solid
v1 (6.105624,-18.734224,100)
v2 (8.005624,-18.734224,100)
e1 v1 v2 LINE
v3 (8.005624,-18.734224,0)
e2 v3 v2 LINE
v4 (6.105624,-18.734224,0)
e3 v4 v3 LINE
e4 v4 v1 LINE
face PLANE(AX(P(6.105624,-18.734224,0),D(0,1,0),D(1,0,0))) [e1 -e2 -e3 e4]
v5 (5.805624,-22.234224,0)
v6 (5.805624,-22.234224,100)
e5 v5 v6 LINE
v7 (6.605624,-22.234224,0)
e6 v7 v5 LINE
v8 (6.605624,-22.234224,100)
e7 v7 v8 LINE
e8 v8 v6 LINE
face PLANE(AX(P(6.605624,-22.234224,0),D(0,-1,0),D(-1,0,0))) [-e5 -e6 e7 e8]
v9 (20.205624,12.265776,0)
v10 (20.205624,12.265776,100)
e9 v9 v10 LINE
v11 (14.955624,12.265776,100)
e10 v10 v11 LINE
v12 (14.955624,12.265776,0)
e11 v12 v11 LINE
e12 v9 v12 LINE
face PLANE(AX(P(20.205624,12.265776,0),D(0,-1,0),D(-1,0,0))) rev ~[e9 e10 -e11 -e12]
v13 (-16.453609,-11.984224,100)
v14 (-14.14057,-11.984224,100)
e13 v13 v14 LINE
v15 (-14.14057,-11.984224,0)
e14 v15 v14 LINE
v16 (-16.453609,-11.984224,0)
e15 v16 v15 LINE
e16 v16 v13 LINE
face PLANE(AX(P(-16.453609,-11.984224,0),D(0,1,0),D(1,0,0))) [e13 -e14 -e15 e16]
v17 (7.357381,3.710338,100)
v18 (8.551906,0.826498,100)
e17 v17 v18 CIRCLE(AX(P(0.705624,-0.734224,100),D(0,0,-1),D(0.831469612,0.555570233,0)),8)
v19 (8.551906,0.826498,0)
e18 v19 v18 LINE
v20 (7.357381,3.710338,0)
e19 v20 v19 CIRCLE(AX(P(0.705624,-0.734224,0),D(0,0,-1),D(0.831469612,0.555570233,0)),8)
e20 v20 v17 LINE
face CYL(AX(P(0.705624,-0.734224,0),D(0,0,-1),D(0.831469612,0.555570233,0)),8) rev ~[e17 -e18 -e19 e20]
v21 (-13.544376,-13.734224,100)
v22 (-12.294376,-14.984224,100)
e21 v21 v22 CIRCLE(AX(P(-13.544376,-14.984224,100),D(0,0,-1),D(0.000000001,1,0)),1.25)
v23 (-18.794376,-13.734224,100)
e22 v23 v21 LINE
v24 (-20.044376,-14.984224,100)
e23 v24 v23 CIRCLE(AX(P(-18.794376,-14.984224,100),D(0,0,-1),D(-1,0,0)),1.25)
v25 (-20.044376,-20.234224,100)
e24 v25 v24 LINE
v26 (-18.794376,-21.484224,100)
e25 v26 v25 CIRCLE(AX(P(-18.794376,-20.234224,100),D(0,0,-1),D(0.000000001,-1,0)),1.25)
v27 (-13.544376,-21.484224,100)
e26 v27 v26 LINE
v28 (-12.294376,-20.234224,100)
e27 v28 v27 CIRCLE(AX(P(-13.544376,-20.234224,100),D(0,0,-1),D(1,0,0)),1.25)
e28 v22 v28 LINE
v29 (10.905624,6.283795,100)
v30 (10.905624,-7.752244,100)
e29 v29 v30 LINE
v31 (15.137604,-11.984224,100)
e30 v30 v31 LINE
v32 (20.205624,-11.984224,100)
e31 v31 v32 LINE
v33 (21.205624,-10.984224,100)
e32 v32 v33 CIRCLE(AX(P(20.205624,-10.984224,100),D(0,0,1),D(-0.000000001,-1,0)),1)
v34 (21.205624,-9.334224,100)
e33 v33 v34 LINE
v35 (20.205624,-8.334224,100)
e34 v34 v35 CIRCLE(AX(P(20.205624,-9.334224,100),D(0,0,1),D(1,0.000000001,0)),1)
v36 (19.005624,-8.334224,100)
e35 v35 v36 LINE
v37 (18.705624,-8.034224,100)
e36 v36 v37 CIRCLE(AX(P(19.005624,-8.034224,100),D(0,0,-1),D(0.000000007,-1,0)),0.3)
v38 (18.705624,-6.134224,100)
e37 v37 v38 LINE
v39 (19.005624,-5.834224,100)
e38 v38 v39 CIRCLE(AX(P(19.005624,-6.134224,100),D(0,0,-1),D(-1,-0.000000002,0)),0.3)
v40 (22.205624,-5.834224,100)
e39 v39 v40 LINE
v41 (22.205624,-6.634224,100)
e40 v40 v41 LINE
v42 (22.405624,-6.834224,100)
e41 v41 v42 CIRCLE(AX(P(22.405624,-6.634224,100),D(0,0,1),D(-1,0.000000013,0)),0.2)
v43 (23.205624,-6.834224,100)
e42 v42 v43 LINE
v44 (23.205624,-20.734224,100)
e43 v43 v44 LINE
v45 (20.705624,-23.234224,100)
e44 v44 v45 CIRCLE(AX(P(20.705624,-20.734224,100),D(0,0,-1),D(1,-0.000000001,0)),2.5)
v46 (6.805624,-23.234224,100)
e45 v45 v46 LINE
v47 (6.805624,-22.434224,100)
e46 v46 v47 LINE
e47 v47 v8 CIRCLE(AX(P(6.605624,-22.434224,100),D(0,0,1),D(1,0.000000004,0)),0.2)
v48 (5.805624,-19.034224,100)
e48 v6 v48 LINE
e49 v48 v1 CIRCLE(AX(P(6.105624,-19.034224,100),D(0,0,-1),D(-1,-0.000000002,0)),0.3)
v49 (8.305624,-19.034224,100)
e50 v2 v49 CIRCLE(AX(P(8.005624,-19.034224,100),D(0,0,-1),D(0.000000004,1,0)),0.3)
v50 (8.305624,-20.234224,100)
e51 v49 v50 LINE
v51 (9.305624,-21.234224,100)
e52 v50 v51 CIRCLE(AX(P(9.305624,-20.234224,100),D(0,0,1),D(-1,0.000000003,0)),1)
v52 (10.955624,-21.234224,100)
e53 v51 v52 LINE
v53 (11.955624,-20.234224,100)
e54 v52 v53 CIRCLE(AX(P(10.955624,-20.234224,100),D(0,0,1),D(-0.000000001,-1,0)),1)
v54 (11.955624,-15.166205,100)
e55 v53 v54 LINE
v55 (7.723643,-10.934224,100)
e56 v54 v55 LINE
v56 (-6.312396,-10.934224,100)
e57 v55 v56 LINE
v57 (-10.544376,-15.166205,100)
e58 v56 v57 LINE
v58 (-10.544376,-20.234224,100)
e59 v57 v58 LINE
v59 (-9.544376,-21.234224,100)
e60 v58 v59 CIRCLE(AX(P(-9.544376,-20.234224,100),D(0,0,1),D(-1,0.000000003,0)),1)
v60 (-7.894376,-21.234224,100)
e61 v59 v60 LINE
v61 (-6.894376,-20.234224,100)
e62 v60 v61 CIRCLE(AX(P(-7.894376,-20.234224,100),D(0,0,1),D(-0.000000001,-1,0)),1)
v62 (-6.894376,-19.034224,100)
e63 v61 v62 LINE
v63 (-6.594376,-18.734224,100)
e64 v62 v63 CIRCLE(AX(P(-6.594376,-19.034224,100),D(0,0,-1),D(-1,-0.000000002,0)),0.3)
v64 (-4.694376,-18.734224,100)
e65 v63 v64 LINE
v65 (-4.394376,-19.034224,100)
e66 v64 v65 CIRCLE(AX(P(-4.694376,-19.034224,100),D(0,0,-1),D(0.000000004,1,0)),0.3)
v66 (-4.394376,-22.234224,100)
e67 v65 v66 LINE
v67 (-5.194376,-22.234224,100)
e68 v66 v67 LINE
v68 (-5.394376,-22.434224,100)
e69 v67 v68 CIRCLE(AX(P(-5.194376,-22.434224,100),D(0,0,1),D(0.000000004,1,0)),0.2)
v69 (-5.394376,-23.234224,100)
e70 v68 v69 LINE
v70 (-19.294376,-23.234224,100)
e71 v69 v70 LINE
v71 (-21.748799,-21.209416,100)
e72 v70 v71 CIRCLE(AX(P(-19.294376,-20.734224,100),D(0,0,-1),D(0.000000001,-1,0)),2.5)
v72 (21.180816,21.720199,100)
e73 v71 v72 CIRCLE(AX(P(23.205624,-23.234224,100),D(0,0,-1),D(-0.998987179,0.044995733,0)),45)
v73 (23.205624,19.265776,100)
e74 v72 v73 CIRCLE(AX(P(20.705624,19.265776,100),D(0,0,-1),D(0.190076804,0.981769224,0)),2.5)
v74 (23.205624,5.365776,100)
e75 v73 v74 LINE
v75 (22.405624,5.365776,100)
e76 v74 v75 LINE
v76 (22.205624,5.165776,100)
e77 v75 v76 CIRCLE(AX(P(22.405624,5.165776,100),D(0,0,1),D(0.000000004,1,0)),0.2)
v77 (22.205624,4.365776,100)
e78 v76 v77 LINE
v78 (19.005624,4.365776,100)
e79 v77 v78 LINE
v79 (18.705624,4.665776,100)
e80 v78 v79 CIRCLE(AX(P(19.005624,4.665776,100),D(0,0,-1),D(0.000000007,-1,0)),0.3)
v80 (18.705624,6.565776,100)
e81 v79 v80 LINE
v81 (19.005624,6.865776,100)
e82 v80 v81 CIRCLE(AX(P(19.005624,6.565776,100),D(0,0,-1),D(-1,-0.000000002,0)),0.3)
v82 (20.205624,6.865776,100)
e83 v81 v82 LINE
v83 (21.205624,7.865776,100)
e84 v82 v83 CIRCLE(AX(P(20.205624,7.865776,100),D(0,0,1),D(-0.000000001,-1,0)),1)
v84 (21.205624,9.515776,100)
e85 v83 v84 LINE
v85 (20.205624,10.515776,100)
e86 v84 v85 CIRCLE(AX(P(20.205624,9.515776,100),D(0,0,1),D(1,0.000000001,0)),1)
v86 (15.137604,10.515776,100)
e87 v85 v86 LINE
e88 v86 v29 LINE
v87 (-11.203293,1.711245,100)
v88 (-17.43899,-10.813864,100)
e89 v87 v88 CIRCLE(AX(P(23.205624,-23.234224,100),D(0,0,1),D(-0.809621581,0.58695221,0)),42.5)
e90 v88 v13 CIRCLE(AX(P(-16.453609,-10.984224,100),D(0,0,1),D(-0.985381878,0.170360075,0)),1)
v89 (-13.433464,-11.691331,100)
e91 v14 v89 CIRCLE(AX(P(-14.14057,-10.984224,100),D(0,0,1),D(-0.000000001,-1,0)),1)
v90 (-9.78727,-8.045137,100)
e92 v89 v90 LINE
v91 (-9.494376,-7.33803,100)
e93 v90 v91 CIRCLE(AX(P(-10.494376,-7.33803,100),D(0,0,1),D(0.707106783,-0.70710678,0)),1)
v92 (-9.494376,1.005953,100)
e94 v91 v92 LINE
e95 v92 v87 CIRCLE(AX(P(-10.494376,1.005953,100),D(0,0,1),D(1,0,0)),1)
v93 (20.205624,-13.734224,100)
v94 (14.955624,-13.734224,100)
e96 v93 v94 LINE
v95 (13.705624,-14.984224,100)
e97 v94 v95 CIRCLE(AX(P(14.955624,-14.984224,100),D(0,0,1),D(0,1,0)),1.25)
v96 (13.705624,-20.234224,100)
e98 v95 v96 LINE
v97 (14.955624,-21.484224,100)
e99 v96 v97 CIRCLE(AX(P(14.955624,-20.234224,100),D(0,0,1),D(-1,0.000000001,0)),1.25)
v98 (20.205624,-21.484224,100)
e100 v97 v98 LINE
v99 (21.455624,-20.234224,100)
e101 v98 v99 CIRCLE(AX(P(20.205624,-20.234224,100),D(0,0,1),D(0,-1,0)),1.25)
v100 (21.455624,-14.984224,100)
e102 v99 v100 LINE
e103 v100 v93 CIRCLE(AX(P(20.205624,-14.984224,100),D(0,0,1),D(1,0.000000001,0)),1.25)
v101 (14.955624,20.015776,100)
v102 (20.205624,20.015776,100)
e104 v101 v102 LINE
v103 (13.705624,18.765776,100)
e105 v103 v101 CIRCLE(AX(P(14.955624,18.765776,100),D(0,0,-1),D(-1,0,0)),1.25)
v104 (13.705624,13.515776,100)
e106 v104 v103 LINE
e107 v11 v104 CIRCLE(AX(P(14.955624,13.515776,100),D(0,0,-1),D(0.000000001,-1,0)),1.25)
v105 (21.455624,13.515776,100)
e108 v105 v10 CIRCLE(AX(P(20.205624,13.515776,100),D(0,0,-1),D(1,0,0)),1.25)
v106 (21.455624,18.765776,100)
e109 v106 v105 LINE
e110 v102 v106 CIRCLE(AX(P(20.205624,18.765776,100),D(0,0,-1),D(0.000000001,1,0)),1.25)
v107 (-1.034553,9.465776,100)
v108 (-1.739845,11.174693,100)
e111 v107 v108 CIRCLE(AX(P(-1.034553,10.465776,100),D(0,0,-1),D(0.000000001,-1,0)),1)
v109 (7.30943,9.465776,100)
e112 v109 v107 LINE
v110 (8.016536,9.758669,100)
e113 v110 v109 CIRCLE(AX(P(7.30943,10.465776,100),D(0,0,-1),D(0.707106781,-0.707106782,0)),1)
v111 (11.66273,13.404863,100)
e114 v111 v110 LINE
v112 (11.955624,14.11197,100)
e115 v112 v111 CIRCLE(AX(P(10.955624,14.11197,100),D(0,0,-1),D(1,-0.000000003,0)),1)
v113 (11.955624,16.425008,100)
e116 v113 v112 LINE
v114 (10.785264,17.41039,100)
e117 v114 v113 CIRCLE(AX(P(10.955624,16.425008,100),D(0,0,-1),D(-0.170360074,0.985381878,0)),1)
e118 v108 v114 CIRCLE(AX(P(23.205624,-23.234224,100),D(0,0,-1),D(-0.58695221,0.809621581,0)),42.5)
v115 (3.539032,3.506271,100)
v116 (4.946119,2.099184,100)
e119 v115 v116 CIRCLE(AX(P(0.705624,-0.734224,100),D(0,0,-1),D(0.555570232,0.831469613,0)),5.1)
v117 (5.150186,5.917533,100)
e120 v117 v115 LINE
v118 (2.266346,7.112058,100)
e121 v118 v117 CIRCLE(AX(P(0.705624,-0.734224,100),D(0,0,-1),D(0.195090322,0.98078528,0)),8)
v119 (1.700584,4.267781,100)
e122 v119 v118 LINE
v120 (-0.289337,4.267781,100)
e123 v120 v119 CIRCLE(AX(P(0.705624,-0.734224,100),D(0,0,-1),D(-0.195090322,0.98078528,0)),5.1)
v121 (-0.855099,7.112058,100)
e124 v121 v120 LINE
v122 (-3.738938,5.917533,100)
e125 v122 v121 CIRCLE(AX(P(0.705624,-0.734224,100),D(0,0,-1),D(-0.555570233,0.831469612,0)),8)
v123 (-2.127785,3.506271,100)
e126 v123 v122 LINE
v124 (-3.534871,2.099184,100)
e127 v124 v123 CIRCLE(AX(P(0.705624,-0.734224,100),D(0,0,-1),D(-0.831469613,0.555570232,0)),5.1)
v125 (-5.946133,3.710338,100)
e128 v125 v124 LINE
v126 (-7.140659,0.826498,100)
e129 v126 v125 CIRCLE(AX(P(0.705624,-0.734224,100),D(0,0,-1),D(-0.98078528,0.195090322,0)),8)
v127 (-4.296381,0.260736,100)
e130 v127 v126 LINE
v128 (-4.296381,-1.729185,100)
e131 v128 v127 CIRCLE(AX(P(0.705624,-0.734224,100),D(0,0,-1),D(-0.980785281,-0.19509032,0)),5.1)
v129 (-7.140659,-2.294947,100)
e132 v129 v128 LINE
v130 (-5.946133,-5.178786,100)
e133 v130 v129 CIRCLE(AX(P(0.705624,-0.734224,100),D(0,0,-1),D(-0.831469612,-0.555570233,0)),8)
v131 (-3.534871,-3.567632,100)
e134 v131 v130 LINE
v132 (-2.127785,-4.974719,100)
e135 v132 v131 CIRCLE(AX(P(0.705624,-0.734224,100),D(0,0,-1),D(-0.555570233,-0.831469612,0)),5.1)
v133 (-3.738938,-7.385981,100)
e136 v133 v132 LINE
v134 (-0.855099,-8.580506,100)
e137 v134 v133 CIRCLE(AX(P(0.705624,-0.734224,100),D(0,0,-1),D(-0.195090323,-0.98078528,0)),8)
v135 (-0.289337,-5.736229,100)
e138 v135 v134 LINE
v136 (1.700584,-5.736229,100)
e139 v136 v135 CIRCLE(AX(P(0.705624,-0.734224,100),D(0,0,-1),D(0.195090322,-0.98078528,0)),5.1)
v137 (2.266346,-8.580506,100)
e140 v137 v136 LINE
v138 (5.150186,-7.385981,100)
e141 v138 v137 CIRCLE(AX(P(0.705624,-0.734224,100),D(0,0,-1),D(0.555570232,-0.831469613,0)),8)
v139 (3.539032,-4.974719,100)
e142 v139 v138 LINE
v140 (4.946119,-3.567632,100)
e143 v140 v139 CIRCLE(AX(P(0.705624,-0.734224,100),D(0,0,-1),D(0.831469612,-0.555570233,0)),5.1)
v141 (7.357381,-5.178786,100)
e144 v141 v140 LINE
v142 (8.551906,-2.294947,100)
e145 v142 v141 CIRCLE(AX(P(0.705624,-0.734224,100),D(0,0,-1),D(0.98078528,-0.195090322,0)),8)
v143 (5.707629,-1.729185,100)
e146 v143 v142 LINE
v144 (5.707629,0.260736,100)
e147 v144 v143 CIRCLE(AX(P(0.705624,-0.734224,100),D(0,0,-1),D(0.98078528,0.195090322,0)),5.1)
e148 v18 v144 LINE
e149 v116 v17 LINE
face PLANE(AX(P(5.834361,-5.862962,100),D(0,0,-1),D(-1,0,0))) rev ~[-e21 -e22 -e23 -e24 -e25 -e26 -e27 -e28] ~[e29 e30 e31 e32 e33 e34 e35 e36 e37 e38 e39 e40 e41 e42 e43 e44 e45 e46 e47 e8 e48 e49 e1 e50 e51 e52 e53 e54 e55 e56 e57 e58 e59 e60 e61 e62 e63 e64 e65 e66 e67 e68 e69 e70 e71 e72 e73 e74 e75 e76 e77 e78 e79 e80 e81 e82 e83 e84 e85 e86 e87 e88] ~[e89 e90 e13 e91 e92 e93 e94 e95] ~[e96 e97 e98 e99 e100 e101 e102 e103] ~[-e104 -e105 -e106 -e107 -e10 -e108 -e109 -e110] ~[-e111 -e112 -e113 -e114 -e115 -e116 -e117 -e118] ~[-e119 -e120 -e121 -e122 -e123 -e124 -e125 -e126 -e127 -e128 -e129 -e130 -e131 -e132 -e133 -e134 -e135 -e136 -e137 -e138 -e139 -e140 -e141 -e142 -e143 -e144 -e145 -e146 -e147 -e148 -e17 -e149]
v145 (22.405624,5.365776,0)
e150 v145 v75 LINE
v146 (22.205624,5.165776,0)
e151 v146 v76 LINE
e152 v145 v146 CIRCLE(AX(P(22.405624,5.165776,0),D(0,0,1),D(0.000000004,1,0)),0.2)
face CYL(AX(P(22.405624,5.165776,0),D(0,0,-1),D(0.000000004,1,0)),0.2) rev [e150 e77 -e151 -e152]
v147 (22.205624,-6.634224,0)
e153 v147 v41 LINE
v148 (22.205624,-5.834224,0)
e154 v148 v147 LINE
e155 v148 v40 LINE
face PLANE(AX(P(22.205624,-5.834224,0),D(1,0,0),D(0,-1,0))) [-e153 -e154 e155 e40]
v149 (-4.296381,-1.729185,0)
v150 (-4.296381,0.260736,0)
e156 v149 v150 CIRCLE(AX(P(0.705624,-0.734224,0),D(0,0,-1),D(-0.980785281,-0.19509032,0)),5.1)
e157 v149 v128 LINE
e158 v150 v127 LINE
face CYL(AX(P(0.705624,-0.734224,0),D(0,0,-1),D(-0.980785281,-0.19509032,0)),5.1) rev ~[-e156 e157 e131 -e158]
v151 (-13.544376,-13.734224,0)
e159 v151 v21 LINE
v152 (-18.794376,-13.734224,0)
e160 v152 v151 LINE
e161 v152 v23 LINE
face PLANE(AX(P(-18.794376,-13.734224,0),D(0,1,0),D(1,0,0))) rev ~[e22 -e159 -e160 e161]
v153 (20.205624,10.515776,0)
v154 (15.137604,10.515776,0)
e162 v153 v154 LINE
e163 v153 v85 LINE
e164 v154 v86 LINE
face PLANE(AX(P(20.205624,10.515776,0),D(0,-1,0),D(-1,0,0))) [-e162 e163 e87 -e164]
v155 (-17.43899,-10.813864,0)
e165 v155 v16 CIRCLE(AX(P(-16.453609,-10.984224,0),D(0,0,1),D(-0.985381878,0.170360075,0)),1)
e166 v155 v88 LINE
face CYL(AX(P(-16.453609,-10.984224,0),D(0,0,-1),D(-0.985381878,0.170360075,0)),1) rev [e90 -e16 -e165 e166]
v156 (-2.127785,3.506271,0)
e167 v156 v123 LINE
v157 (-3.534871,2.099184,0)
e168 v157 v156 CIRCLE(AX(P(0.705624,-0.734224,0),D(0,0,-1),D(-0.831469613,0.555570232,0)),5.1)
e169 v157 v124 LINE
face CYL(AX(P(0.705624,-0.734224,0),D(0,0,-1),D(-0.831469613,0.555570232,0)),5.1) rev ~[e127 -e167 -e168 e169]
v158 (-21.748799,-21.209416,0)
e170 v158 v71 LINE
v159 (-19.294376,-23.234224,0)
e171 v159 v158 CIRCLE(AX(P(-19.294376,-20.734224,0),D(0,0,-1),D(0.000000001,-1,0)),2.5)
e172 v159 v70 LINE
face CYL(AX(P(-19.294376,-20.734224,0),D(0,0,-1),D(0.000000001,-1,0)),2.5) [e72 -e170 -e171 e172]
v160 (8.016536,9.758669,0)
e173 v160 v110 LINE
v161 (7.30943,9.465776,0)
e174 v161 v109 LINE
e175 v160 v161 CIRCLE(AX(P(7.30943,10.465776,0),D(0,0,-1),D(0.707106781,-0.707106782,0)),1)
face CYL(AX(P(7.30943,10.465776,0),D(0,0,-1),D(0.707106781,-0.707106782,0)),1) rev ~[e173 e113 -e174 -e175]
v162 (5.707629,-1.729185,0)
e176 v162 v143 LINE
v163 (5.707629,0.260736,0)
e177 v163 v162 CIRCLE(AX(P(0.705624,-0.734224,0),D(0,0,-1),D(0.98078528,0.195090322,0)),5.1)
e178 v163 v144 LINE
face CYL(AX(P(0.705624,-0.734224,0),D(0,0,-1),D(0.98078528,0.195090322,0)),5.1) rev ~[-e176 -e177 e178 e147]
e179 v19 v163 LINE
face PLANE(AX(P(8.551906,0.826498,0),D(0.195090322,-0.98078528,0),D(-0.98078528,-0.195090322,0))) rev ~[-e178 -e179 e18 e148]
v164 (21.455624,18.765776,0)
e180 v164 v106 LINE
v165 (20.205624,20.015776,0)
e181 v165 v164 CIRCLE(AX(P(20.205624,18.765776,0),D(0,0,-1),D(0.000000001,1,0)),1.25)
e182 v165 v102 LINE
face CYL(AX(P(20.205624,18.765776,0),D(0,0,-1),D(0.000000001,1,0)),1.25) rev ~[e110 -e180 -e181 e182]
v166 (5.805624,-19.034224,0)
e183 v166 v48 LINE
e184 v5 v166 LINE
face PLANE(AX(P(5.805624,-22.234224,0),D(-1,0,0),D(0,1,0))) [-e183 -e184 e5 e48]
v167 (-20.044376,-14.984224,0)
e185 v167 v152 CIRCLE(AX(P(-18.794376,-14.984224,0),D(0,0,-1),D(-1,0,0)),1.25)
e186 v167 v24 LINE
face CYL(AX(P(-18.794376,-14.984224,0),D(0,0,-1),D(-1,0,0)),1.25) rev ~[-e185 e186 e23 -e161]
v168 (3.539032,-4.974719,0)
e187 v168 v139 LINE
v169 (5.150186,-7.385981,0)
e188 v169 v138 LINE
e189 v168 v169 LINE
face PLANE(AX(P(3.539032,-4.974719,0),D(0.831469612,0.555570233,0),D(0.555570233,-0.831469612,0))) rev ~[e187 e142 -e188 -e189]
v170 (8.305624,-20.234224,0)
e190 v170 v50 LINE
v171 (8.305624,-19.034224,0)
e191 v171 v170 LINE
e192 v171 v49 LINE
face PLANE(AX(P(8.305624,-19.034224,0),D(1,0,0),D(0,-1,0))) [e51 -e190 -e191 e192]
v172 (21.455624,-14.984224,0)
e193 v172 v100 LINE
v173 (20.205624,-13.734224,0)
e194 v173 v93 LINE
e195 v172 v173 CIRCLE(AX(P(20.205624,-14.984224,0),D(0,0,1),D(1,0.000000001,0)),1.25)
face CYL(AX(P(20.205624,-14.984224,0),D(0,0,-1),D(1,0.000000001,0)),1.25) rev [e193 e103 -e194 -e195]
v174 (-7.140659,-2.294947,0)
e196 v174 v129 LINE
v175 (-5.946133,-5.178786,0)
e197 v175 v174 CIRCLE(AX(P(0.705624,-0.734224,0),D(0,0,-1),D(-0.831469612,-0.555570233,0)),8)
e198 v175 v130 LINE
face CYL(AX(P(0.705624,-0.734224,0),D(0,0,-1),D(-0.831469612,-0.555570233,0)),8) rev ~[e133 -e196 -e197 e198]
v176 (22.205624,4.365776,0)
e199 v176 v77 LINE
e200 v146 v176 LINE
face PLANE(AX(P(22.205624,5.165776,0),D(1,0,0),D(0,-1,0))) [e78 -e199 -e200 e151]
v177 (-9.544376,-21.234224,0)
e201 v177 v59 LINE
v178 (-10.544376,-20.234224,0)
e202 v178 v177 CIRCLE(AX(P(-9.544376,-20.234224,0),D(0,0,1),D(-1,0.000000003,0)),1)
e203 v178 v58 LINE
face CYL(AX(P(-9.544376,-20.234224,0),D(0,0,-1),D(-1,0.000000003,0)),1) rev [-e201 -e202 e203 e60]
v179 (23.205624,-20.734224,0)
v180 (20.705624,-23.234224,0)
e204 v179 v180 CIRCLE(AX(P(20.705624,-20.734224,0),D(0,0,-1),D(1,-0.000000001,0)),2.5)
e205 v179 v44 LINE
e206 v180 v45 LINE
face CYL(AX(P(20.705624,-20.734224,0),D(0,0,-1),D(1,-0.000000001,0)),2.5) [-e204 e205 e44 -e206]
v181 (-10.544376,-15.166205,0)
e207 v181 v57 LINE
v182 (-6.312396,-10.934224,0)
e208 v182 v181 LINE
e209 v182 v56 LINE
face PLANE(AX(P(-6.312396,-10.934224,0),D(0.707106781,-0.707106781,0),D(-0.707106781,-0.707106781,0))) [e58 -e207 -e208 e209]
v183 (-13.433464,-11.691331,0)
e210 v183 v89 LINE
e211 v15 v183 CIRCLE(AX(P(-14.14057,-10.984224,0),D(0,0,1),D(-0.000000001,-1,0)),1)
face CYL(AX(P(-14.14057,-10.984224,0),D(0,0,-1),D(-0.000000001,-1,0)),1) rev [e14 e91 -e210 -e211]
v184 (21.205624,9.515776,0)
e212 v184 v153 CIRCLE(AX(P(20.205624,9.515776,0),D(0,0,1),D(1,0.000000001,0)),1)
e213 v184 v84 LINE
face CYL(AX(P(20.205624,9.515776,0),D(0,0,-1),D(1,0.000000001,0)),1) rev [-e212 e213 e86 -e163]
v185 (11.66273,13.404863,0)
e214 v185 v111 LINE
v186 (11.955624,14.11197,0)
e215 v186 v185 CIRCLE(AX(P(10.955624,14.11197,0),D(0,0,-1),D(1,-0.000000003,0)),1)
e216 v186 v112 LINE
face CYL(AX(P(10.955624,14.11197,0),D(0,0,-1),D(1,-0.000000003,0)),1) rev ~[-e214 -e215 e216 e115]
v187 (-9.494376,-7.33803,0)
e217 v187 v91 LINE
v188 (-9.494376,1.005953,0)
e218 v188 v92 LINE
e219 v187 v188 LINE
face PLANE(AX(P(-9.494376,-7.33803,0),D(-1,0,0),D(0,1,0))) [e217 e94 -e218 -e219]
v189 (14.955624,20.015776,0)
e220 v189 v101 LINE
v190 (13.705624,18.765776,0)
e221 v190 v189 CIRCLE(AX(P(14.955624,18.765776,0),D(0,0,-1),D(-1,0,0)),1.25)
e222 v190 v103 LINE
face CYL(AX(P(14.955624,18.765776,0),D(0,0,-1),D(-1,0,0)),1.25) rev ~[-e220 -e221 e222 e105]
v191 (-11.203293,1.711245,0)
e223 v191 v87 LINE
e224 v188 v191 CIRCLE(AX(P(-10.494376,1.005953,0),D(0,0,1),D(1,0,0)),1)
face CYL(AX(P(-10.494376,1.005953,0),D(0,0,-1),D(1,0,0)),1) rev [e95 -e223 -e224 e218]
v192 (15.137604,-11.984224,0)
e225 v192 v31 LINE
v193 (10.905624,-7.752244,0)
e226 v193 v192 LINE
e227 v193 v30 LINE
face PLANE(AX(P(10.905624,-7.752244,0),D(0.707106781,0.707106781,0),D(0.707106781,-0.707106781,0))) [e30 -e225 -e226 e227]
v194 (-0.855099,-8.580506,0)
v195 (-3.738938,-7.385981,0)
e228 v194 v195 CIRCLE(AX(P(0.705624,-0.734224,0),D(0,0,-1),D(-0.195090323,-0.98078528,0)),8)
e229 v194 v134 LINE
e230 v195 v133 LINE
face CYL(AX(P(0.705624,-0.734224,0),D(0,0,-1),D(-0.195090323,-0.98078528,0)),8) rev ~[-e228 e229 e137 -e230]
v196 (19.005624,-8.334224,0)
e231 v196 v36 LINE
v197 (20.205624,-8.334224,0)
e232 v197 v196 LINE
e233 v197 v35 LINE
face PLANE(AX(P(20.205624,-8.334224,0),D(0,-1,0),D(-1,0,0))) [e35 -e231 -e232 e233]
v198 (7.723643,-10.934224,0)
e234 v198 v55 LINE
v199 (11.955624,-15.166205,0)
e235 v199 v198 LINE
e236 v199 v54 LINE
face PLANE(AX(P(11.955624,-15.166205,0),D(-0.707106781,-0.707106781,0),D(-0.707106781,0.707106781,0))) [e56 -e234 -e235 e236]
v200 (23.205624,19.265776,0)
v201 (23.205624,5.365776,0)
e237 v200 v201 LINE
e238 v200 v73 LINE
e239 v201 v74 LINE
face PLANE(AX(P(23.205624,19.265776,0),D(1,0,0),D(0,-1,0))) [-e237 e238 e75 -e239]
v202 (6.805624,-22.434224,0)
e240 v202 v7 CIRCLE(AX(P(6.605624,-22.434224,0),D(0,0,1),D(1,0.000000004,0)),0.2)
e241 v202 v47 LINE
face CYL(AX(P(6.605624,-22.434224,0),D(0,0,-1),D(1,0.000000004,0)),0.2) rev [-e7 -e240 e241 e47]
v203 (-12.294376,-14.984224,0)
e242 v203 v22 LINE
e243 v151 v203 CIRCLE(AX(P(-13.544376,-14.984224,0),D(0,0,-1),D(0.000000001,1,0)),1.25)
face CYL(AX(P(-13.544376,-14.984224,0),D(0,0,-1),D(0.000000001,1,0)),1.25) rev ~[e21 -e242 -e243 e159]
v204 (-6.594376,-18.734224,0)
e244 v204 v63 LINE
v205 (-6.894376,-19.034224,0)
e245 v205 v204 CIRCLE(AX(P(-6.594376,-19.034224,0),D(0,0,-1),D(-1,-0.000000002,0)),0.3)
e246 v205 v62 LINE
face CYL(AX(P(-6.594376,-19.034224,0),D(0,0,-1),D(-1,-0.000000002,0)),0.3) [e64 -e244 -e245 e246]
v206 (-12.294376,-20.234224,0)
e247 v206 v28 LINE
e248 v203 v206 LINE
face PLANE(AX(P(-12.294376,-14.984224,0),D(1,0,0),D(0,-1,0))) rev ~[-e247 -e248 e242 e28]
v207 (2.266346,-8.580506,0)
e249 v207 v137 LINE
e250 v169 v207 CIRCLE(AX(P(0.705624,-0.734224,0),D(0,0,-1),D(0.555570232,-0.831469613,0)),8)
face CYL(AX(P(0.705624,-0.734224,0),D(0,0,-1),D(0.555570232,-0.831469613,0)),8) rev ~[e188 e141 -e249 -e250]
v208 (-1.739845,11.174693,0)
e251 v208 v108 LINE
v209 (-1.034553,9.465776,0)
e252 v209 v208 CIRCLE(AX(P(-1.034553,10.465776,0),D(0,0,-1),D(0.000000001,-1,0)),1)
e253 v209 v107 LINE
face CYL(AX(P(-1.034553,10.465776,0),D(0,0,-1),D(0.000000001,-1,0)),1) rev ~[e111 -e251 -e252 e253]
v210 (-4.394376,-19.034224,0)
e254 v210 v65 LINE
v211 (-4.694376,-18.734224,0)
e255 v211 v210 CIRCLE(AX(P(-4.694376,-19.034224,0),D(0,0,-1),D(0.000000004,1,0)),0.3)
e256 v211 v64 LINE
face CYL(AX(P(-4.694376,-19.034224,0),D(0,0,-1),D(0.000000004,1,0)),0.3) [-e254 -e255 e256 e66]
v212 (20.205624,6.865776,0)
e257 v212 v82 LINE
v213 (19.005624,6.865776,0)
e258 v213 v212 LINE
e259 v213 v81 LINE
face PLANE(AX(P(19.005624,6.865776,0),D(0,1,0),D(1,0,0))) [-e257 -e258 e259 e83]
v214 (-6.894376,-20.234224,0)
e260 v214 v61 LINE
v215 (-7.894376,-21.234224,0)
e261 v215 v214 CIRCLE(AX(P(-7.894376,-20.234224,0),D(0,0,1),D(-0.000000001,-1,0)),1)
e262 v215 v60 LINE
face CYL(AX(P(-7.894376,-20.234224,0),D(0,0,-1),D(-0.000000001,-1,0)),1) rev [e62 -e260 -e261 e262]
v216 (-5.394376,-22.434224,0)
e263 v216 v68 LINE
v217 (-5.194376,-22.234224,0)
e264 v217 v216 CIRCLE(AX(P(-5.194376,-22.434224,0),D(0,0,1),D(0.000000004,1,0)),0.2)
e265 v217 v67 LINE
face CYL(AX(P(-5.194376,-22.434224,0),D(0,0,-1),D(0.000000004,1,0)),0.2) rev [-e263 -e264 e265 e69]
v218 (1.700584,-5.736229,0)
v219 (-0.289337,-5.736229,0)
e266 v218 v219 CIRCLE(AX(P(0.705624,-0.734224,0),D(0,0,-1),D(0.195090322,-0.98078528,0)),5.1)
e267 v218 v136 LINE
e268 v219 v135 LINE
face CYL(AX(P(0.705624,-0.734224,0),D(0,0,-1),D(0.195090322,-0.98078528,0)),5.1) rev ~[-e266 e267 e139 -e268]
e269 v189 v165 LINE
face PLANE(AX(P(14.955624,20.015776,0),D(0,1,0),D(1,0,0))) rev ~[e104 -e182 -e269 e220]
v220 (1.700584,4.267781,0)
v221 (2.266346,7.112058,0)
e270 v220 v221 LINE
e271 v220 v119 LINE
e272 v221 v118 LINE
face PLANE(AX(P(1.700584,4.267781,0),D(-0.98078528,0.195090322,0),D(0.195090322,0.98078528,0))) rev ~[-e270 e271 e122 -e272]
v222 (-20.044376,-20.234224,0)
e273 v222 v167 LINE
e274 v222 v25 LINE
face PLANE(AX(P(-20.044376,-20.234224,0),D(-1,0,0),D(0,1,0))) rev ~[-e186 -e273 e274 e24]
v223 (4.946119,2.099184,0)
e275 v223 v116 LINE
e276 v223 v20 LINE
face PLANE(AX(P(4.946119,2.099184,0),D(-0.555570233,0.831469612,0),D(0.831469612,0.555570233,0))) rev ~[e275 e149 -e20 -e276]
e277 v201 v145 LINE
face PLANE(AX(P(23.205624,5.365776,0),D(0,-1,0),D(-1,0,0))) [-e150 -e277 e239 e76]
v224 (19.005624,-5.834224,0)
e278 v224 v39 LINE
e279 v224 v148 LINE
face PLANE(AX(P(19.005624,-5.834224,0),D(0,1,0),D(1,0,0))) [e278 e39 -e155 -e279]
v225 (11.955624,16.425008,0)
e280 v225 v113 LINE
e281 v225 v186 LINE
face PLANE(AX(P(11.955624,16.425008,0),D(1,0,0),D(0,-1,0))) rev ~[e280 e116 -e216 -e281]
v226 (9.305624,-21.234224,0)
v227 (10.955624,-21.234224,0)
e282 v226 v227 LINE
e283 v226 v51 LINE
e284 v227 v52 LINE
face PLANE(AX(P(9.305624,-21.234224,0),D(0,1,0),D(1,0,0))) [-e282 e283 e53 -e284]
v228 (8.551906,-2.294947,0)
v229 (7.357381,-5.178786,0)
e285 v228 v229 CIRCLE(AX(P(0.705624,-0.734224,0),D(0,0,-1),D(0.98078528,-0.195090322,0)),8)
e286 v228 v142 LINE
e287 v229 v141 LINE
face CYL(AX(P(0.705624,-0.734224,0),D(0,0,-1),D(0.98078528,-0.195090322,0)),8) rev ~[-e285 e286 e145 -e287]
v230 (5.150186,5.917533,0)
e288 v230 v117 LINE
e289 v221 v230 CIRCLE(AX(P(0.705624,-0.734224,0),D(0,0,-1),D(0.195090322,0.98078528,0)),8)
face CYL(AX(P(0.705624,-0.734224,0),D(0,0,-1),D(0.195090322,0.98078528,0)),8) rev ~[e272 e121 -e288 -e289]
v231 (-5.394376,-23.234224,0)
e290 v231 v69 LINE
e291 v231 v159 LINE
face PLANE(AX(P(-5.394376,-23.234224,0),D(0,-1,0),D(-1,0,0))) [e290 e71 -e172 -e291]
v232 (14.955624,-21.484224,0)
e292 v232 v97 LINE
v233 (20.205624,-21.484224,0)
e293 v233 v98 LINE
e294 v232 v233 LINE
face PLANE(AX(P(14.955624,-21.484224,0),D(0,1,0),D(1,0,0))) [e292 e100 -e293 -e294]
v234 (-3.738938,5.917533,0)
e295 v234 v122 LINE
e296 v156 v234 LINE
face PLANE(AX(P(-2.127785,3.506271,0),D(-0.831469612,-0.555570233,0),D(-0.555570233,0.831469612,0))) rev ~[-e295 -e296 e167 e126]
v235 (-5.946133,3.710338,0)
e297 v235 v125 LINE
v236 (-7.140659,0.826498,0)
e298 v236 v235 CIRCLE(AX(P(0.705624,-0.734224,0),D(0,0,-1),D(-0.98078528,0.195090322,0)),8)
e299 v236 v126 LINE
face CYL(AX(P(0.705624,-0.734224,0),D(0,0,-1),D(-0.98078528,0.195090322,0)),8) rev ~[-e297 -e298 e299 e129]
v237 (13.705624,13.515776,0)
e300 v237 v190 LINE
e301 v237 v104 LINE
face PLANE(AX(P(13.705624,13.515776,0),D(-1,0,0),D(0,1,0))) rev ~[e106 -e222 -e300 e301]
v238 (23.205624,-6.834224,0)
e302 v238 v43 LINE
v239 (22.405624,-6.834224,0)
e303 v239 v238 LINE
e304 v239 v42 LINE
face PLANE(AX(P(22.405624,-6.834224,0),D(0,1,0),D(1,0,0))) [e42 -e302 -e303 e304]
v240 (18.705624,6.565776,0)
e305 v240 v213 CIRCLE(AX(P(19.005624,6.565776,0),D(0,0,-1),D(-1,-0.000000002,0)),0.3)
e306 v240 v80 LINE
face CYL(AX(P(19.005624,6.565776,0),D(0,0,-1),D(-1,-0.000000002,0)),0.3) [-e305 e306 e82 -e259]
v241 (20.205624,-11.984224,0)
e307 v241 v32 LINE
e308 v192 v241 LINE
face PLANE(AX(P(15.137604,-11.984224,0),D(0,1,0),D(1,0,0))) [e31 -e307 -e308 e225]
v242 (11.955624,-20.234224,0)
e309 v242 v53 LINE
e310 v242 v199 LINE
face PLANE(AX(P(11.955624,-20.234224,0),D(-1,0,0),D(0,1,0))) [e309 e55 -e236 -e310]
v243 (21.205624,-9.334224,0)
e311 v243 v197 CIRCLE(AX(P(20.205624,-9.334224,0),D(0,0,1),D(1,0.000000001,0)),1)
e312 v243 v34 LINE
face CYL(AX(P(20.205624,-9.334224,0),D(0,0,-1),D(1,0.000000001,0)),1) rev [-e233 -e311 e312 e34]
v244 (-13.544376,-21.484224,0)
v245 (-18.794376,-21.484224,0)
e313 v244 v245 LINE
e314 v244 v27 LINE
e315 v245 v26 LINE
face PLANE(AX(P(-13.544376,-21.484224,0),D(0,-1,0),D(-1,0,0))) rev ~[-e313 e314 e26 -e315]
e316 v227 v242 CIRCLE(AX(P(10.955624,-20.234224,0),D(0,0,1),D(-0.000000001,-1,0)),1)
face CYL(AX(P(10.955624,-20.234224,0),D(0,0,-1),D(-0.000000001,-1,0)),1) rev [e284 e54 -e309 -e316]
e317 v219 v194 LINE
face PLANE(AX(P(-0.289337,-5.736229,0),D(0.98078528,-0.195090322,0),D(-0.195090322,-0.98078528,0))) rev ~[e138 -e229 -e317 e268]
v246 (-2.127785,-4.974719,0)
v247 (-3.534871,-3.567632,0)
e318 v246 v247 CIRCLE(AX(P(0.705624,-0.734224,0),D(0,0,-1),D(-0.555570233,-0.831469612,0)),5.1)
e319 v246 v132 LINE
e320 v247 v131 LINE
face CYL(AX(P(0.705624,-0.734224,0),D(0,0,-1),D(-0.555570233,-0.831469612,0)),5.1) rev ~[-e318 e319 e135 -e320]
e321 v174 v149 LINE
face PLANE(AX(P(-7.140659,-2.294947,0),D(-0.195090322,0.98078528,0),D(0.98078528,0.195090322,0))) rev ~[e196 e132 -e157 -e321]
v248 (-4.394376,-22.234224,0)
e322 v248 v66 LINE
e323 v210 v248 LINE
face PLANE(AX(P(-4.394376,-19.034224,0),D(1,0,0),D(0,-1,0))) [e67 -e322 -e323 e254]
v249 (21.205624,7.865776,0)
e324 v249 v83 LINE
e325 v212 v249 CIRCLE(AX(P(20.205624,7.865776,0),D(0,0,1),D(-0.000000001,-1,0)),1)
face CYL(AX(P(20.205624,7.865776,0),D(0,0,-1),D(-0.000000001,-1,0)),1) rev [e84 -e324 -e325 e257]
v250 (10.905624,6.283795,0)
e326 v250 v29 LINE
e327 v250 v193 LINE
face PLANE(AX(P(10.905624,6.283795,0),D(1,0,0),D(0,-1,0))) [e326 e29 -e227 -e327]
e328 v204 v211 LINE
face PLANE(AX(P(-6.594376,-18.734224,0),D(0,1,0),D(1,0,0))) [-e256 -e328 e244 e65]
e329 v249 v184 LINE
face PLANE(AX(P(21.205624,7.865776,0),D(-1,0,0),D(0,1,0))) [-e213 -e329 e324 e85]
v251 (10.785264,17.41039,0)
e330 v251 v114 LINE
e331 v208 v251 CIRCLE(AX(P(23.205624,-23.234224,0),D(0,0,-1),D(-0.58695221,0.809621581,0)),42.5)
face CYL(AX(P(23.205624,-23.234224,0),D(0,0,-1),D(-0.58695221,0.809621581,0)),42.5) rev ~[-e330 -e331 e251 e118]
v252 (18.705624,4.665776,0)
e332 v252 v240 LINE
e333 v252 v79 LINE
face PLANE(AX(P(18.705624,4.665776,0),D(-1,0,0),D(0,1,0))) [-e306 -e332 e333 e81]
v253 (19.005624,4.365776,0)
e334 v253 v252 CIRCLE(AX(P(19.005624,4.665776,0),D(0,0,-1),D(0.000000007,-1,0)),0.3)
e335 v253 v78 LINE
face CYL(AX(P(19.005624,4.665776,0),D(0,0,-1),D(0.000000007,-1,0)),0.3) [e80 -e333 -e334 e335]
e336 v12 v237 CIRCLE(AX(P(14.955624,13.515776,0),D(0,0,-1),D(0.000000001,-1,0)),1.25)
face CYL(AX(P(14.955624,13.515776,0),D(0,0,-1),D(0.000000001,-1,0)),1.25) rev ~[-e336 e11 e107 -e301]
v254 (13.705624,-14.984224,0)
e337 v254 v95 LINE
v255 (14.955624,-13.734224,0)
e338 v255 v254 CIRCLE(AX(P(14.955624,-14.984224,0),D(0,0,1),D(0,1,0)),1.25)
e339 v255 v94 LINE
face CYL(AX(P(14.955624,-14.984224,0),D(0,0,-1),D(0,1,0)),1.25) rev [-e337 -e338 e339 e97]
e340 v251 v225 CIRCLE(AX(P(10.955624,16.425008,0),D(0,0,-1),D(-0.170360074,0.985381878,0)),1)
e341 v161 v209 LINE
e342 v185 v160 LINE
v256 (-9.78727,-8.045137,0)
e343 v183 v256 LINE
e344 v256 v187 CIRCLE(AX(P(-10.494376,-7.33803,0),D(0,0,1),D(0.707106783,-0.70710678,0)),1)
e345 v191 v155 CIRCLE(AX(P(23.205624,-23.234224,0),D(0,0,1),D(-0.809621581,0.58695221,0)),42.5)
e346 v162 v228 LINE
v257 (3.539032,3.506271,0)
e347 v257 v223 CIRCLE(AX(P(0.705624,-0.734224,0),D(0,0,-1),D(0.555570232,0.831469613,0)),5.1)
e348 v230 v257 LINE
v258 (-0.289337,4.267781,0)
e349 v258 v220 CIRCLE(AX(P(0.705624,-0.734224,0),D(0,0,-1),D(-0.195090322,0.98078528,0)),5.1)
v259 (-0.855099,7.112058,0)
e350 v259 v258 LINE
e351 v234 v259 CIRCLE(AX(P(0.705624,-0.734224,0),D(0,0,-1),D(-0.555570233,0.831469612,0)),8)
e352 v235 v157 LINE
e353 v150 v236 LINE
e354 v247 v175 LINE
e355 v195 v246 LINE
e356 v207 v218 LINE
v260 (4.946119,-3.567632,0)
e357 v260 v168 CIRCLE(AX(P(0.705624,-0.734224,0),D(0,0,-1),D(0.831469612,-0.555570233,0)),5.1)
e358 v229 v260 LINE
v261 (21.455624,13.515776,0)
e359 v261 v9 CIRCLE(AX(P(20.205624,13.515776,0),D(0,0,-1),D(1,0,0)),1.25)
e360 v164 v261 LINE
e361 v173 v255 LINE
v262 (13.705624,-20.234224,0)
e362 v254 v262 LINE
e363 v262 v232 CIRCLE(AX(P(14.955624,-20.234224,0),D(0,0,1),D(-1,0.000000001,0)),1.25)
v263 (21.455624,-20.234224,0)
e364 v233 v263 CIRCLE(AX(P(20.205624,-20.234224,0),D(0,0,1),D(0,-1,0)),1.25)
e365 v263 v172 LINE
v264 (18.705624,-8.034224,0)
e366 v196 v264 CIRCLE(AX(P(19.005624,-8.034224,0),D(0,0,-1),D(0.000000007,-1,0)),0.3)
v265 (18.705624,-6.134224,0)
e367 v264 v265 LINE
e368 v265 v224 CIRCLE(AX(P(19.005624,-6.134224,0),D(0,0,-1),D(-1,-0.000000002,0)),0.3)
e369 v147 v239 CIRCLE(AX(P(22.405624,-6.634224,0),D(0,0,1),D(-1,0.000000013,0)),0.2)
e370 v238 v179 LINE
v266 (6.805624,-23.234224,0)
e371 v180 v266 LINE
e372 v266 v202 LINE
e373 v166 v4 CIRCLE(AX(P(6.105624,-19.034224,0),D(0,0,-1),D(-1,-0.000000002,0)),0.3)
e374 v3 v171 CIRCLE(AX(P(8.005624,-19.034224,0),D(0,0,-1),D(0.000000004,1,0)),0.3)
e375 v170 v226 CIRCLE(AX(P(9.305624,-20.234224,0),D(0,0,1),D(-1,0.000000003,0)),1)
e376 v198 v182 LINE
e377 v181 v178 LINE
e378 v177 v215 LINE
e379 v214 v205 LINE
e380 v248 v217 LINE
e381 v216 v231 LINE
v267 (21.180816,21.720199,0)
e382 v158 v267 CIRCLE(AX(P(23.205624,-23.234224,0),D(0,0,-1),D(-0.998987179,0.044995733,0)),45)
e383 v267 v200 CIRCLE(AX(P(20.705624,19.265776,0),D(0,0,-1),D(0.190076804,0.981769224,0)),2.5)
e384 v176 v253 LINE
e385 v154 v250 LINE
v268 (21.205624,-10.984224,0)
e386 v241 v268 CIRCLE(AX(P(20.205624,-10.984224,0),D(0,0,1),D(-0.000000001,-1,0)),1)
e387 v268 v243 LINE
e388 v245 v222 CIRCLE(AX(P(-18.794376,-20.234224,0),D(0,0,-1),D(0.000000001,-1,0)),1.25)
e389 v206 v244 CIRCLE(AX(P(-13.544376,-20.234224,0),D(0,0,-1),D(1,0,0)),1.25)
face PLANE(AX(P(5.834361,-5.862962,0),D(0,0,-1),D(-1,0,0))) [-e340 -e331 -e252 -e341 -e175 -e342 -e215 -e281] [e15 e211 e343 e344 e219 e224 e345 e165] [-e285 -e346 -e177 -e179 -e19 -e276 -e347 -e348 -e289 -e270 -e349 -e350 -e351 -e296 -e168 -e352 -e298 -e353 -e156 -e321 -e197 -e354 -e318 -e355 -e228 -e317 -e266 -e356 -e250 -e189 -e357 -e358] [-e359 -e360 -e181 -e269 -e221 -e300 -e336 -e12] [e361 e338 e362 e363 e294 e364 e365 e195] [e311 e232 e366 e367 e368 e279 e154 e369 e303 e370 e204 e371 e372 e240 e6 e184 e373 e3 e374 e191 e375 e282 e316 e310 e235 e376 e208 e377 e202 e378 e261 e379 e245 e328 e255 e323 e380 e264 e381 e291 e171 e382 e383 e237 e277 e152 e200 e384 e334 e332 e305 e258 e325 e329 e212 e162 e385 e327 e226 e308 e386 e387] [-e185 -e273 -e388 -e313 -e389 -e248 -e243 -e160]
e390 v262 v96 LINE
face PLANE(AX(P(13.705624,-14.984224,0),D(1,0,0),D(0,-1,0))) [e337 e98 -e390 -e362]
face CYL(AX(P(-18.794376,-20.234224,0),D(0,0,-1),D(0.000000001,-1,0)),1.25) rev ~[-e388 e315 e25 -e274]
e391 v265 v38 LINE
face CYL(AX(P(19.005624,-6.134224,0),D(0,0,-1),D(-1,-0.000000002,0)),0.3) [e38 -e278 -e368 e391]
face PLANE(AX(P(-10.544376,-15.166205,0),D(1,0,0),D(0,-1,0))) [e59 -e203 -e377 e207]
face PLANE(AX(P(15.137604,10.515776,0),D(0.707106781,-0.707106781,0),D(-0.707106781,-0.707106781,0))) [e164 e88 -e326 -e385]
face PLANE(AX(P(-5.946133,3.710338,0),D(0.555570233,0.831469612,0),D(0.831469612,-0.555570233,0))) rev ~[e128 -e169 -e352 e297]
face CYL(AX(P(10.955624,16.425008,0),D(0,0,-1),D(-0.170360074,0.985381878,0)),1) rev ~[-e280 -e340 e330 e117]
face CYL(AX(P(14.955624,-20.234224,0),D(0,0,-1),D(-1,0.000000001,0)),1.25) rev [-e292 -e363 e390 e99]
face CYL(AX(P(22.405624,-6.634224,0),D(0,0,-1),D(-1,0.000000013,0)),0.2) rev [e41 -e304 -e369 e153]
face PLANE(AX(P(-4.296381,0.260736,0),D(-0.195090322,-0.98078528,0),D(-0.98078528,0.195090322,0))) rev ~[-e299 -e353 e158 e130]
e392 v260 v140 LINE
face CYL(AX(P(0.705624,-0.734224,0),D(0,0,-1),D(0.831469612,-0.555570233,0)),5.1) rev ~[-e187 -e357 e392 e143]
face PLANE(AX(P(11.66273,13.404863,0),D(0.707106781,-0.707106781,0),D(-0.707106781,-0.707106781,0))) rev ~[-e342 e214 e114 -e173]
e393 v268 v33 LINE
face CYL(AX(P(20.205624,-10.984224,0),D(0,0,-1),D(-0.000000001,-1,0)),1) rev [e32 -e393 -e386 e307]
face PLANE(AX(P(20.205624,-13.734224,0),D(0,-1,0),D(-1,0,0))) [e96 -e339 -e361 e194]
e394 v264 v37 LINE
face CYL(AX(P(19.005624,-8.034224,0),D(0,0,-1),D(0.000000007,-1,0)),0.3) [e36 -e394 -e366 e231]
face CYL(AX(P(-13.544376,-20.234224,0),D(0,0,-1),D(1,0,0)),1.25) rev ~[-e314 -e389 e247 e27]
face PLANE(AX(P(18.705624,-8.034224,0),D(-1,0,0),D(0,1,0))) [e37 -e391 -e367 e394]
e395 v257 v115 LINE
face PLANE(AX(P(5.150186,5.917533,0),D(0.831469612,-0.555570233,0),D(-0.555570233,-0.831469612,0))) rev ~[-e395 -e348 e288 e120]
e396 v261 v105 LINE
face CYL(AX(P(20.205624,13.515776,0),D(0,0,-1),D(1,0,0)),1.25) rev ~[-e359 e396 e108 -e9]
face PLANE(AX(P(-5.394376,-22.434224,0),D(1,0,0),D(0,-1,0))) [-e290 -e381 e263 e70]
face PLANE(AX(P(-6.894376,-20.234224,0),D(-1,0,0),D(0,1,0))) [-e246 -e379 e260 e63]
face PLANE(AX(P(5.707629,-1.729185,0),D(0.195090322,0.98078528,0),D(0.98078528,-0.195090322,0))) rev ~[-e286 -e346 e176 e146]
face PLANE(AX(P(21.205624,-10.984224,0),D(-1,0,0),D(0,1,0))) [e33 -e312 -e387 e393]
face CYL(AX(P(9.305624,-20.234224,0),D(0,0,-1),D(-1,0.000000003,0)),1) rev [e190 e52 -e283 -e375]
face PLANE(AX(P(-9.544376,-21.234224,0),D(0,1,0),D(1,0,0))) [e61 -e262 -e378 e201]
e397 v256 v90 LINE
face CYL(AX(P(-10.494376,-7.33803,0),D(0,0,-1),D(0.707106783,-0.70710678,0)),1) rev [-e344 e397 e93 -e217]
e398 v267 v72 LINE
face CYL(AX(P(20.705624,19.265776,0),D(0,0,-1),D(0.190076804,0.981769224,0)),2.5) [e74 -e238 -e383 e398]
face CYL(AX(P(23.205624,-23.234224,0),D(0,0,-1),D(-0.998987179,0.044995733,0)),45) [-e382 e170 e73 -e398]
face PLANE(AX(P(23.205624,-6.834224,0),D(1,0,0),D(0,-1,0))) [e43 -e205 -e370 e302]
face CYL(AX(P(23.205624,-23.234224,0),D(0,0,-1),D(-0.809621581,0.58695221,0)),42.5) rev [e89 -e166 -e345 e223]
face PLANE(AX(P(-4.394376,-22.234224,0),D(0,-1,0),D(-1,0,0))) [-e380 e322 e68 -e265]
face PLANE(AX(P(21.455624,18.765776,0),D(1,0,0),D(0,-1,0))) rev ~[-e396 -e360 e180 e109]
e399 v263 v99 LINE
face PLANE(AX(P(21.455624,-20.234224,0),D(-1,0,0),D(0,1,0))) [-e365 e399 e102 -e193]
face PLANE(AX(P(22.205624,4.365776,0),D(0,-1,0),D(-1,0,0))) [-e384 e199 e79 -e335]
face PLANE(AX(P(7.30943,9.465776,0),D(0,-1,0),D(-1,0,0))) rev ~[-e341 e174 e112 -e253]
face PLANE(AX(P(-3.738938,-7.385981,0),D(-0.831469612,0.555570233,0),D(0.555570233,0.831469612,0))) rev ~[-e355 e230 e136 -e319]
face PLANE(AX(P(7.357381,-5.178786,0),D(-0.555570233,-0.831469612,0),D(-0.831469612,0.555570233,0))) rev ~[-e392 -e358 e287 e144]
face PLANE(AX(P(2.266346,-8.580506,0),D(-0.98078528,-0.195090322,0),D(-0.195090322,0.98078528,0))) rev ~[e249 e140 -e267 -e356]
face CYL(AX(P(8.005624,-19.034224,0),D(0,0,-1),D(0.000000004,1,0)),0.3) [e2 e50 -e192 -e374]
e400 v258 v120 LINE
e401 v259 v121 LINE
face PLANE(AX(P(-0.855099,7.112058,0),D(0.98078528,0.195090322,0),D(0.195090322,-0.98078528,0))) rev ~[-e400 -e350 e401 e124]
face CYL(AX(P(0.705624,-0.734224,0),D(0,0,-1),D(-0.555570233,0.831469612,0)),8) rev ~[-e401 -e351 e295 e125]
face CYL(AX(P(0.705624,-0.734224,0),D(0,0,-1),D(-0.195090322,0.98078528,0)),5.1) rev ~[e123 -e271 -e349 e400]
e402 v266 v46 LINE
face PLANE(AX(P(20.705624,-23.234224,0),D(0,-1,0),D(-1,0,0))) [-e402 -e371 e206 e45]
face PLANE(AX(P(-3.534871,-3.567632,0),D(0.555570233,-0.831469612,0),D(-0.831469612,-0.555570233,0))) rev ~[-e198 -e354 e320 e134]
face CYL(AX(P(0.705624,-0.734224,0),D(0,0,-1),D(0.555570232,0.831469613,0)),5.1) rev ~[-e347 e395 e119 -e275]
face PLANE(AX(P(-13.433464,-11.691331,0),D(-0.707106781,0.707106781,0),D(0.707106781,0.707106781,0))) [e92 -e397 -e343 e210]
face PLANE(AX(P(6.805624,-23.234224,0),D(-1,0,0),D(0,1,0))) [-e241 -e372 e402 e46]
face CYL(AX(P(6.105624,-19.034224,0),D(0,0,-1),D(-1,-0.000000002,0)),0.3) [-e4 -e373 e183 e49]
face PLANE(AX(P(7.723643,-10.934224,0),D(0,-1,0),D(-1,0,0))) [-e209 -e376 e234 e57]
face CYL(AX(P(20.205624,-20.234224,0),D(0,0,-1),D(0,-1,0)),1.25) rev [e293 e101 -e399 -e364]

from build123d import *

# Parameters (mm, degrees)
EXTRUDE_1_DEPTH = 100


with BuildPart() as part:
    # 草图1 → 凸台-拉伸1 (new body)
    with BuildSketch(Plane.XY):
        with BuildLine():
            Line((23.205623676, 19.265775848), (23.205623676, 5.365775848))
            Line((23.205623676, 5.365775848), (22.405623676, 5.365775848))
            ThreePointArc((22.405623676, 5.365775848), (22.264202319, 5.307197204), (22.205623676, 5.165775848))
            Line((22.205623676, 5.165775848), (22.205623676, 4.365775848))
            Line((22.205623676, 4.365775848), (19.005623676, 4.365775848))
            ThreePointArc((19.005623676, 4.365775848), (18.793491641, 4.453643813), (18.705623676, 4.665775848))
            Line((18.705623676, 4.665775848), (18.705623676, 6.565775848))
            ThreePointArc((18.705623676, 6.565775848), (18.793491641, 6.777907882), (19.005623676, 6.865775848))
            Line((19.005623676, 6.865775848), (20.205623676, 6.865775848))
            ThreePointArc((20.205623676, 6.865775848), (20.912730457, 7.158669066), (21.205623676, 7.865775848))
            Line((21.205623676, 7.865775848), (21.205623676, 9.515775848))
            ThreePointArc((21.205623676, 9.515775848), (20.912730457, 10.222882629), (20.205623676, 10.515775848))
            Line((20.205623676, 10.515775848), (15.137604191, 10.515775848))
            Line((15.137604191, 10.515775848), (10.905623676, 6.283795332))
            Line((10.905623676, 6.283795332), (10.905623676, -7.752243637))
            Line((10.905623676, -7.752243637), (15.137604191, -11.984224152))
            Line((15.137604191, -11.984224152), (20.205623676, -11.984224152))
            ThreePointArc((20.205623676, -11.984224152), (20.912730457, -11.691330934), (21.205623676, -10.984224152))
            Line((21.205623676, -10.984224152), (21.205623676, -9.334224152))
            ThreePointArc((21.205623676, -9.334224152), (20.912730457, -8.627117371), (20.205623676, -8.334224152))
            Line((20.205623676, -8.334224152), (19.005623676, -8.334224152))
            ThreePointArc((19.005623676, -8.334224152), (18.793491641, -8.246356187), (18.705623676, -8.034224152))
            Line((18.705623676, -8.034224152), (18.705623676, -6.134224152))
            ThreePointArc((18.705623676, -6.134224152), (18.793491641, -5.922092118), (19.005623676, -5.834224152))
            Line((19.005623676, -5.834224152), (22.205623676, -5.834224152))
            Line((22.205623676, -5.834224152), (22.205623676, -6.634224152))
            ThreePointArc((22.205623676, -6.634224152), (22.264202319, -6.775645509), (22.405623676, -6.834224152))
            Line((22.405623676, -6.834224152), (23.205623676, -6.834224152))
            Line((23.205623676, -6.834224152), (23.205623676, -20.734224152))
            ThreePointArc((23.205623676, -20.734224152), (22.473390628, -22.501991105), (20.705623676, -23.234224152))
            Line((20.705623676, -23.234224152), (6.805623676, -23.234224152))
            Line((6.805623676, -23.234224152), (6.805623676, -22.434224152))
            ThreePointArc((6.805623676, -22.434224152), (6.747045032, -22.292802796), (6.605623676, -22.234224152))
            Line((6.605623676, -22.234224152), (5.805623676, -22.234224152))
            Line((5.805623676, -22.234224152), (5.805623676, -19.034224152))
            ThreePointArc((5.805623676, -19.034224152), (5.893491641, -18.822092118), (6.105623676, -18.734224152))
            Line((6.105623676, -18.734224152), (8.005623676, -18.734224152))
            ThreePointArc((8.005623676, -18.734224152), (8.21775571, -18.822092118), (8.305623676, -19.034224152))
            Line((8.305623676, -19.034224152), (8.305623676, -20.234224152))
            ThreePointArc((8.305623676, -20.234224152), (8.598516894, -20.941330934), (9.305623676, -21.234224152))
            Line((9.305623676, -21.234224152), (10.955623676, -21.234224152))
            ThreePointArc((10.955623676, -21.234224152), (11.662730457, -20.941330934), (11.955623676, -20.234224152))
            Line((11.955623676, -20.234224152), (11.955623676, -15.166204668))
            Line((11.955623676, -15.166204668), (7.72364316, -10.934224152))
            Line((7.72364316, -10.934224152), (-6.312395809, -10.934224152))
            Line((-6.312395809, -10.934224152), (-10.544376324, -15.166204668))
            Line((-10.544376324, -15.166204668), (-10.544376324, -20.234224152))
            ThreePointArc((-10.544376324, -20.234224152), (-10.251483106, -20.941330934), (-9.544376324, -21.234224152))
            Line((-9.544376324, -21.234224152), (-7.894376324, -21.234224152))
            ThreePointArc((-7.894376324, -21.234224152), (-7.187269543, -20.941330934), (-6.894376324, -20.234224152))
            Line((-6.894376324, -20.234224152), (-6.894376324, -19.034224152))
            ThreePointArc((-6.894376324, -19.034224152), (-6.806508359, -18.822092118), (-6.594376324, -18.734224152))
            Line((-6.594376324, -18.734224152), (-4.694376324, -18.734224152))
            ThreePointArc((-4.694376324, -18.734224152), (-4.48224429, -18.822092118), (-4.394376324, -19.034224152))
            Line((-4.394376324, -19.034224152), (-4.394376324, -22.234224152))
            Line((-4.394376324, -22.234224152), (-5.194376324, -22.234224152))
            ThreePointArc((-5.194376324, -22.234224152), (-5.335797681, -22.292802796), (-5.394376324, -22.434224152))
            Line((-5.394376324, -22.434224152), (-5.394376324, -23.234224152))
            Line((-5.394376324, -23.234224152), (-19.294376324, -23.234224152))
            ThreePointArc((-19.294376324, -23.234224152), (-20.885291152, -22.66269246), (-21.748799384, -21.209416162))
            ThreePointArc((-21.748799384, -21.209416162), (-8.614181478, 8.585581001), (21.180815685, 21.720198907))
            ThreePointArc((21.180815685, 21.720198907), (22.634091983, 20.856690675), (23.205623676, 19.265775848))
        make_face()
        with BuildLine():
            Line((20.205623676, 12.265775848), (14.955623676, 12.265775848))
            ThreePointArc((14.955623676, 12.265775848), (14.071740199, 12.631892371), (13.705623676, 13.515775848))
            Line((13.705623676, 13.515775848), (13.705623676, 18.765775848))
            ThreePointArc((13.705623676, 18.765775848), (14.071740199, 19.649659324), (14.955623676, 20.015775848))
            Line((14.955623676, 20.015775848), (20.205623676, 20.015775848))
            ThreePointArc((20.205623676, 20.015775848), (21.089507152, 19.649659324), (21.455623676, 18.765775848))
            Line((21.455623676, 18.765775848), (21.455623676, 13.515775848))
            ThreePointArc((21.455623676, 13.515775848), (21.089507152, 12.631892371), (20.205623676, 12.265775848))
        make_face(mode=Mode.SUBTRACT)
        with BuildLine():
            Line((-18.794376324, -13.734224152), (-13.544376324, -13.734224152))
            ThreePointArc((-13.544376324, -13.734224152), (-12.660492848, -14.100340676), (-12.294376324, -14.984224152))
            Line((-12.294376324, -14.984224152), (-12.294376324, -20.234224152))
            ThreePointArc((-12.294376324, -20.234224152), (-12.660492848, -21.118107629), (-13.544376324, -21.484224152))
            Line((-13.544376324, -21.484224152), (-18.794376324, -21.484224152))
            ThreePointArc((-18.794376324, -21.484224152), (-19.678259801, -21.118107629), (-20.044376324, -20.234224152))
            Line((-20.044376324, -20.234224152), (-20.044376324, -14.984224152))
            ThreePointArc((-20.044376324, -14.984224152), (-19.678259801, -14.100340676), (-18.794376324, -13.734224152))
        make_face(mode=Mode.SUBTRACT)
        with BuildLine():
            Line((20.205623676, -13.734224152), (14.955623676, -13.734224152))
            ThreePointArc((14.955623676, -13.734224152), (14.071740199, -14.100340676), (13.705623676, -14.984224152))
            Line((13.705623676, -14.984224152), (13.705623676, -20.234224152))
            ThreePointArc((13.705623676, -20.234224152), (14.071740199, -21.118107629), (14.955623676, -21.484224152))
            Line((14.955623676, -21.484224152), (20.205623676, -21.484224152))
            ThreePointArc((20.205623676, -21.484224152), (21.089507152, -21.118107629), (21.455623676, -20.234224152))
            Line((21.455623676, -20.234224152), (21.455623676, -14.984224152))
            ThreePointArc((21.455623676, -14.984224152), (21.089507152, -14.100340676), (20.205623676, -13.734224152))
        make_face(mode=Mode.SUBTRACT)
        with BuildLine():
            Line((-3.738938189, -7.385981051), (-2.127784513, -4.974719175))
            ThreePointArc((-2.127784513, -4.974719175), (-2.900620909, -4.340468736), (-3.534871347, -3.567632341))
            Line((-3.534871347, -3.567632341), (-5.946133223, -5.178786017))
            ThreePointArc((-5.946133223, -5.178786017), (-6.685412585, -3.795691611), (-7.140658568, -2.294946729))
            Line((-7.140658568, -2.294946729), (-4.296381255, -1.729184795))
            ThreePointArc((-4.296381255, -1.729184795), (-4.394376324, -0.734224152), (-4.296381255, 0.26073649))
            Line((-4.296381255, 0.26073649), (-7.140658568, 0.826498424))
            ThreePointArc((-7.140658568, 0.826498424), (-6.685412585, 2.327243307), (-5.946133223, 3.710337712))
            Line((-5.946133223, 3.710337712), (-3.534871347, 2.099184036))
            ThreePointArc((-3.534871347, 2.099184036), (-2.900620909, 2.872020432), (-2.127784513, 3.50627087))
            Line((-2.127784513, 3.50627087), (-3.738938189, 5.917532746))
            ThreePointArc((-3.738938189, 5.917532746), (-2.355843783, 6.656812108), (-0.855098901, 7.112058091))
            Line((-0.855098901, 7.112058091), (-0.289336967, 4.267780778))
            ThreePointArc((-0.289336967, 4.267780778), (0.705623676, 4.365775848), (1.700584318, 4.267780778))
            Line((1.700584318, 4.267780778), (2.266346252, 7.112058091))
            ThreePointArc((2.266346252, 7.112058091), (3.767091134, 6.656812108), (5.15018554, 5.917532746))
            Line((5.15018554, 5.917532746), (3.539031864, 3.50627087))
            ThreePointArc((3.539031864, 3.50627087), (4.31186826, 2.872020432), (4.946118698, 2.099184036))
            Line((4.946118698, 2.099184036), (7.357380574, 3.710337712))
            ThreePointArc((7.357380574, 3.710337712), (8.096659936, 2.327243307), (8.551905919, 0.826498424))
            Line((8.551905919, 0.826498424), (5.707628606, 0.26073649))
            ThreePointArc((5.707628606, 0.26073649), (5.805623676, -0.734224152), (5.707628606, -1.729184795))
            Line((5.707628606, -1.729184795), (8.551905919, -2.294946729))
            ThreePointArc((8.551905919, -2.294946729), (8.096659936, -3.795691611), (7.357380574, -5.178786017))
            Line((7.357380574, -5.178786017), (4.946118698, -3.567632341))
            ThreePointArc((4.946118698, -3.567632341), (4.31186826, -4.340468736), (3.539031864, -4.974719175))
            Line((3.539031864, -4.974719175), (5.15018554, -7.385981051))
            ThreePointArc((5.15018554, -7.385981051), (3.767091134, -8.125260412), (2.266346252, -8.580506396))
            Line((2.266346252, -8.580506396), (1.700584318, -5.736229082))
            ThreePointArc((1.700584318, -5.736229082), (0.705623676, -5.834224152), (-0.289336967, -5.736229082))
            Line((-0.289336967, -5.736229082), (-0.855098901, -8.580506396))
            ThreePointArc((-0.855098901, -8.580506396), (-2.355843783, -8.125260412), (-3.738938189, -7.385981051))
        make_face(mode=Mode.SUBTRACT)
        with BuildLine():
            Line((11.955623676, 16.425008073), (11.955623676, 14.111969925))
            ThreePointArc((11.955623676, 14.111969925), (11.879503208, 13.729286493), (11.662730457, 13.404863144))
            Line((11.662730457, 13.404863144), (8.016536379, 9.758669066))
            ThreePointArc((8.016536379, 9.758669066), (7.69211303, 9.541896315), (7.309429598, 9.465775848))
            Line((7.309429598, 9.465775848), (-1.034553488, 9.465775848))
            ThreePointArc((-1.034553488, 9.465775848), (-1.95892278, 10.084276945), (-1.739845229, 11.174693022))
            ThreePointArc((-1.739845229, 11.174693022), (4.264338796, 14.811507896), (10.785263601, 17.410389951))
            ThreePointArc((10.785263601, 17.410389951), (11.599688861, 17.189978685), (11.955623676, 16.425008073))
        make_face(mode=Mode.SUBTRACT)
        with BuildLine():
            Line((-16.45360855, -11.984224152), (-14.140570402, -11.984224152))
            ThreePointArc((-14.140570402, -11.984224152), (-13.75788697, -11.908103685), (-13.433463621, -11.691330934))
            Line((-13.433463621, -11.691330934), (-9.787269543, -8.045136856))
            ThreePointArc((-9.787269543, -8.045136856), (-9.570496792, -7.720713507), (-9.494376324, -7.338030075))
            Line((-9.494376324, -7.338030075), (-9.494376324, 1.005953011))
            ThreePointArc((-9.494376324, 1.005953011), (-10.112877422, 1.930322303), (-11.203293499, 1.711244752))
            ThreePointArc((-11.203293499, 1.711244752), (-14.840108373, -4.292939273), (-17.438990428, -10.813864078))
            ThreePointArc((-17.438990428, -10.813864078), (-17.218579162, -11.628289338), (-16.45360855, -11.984224152))
        make_face(mode=Mode.SUBTRACT)
    extrude(amount=EXTRUDE_1_DEPTH)


solid = part.part
